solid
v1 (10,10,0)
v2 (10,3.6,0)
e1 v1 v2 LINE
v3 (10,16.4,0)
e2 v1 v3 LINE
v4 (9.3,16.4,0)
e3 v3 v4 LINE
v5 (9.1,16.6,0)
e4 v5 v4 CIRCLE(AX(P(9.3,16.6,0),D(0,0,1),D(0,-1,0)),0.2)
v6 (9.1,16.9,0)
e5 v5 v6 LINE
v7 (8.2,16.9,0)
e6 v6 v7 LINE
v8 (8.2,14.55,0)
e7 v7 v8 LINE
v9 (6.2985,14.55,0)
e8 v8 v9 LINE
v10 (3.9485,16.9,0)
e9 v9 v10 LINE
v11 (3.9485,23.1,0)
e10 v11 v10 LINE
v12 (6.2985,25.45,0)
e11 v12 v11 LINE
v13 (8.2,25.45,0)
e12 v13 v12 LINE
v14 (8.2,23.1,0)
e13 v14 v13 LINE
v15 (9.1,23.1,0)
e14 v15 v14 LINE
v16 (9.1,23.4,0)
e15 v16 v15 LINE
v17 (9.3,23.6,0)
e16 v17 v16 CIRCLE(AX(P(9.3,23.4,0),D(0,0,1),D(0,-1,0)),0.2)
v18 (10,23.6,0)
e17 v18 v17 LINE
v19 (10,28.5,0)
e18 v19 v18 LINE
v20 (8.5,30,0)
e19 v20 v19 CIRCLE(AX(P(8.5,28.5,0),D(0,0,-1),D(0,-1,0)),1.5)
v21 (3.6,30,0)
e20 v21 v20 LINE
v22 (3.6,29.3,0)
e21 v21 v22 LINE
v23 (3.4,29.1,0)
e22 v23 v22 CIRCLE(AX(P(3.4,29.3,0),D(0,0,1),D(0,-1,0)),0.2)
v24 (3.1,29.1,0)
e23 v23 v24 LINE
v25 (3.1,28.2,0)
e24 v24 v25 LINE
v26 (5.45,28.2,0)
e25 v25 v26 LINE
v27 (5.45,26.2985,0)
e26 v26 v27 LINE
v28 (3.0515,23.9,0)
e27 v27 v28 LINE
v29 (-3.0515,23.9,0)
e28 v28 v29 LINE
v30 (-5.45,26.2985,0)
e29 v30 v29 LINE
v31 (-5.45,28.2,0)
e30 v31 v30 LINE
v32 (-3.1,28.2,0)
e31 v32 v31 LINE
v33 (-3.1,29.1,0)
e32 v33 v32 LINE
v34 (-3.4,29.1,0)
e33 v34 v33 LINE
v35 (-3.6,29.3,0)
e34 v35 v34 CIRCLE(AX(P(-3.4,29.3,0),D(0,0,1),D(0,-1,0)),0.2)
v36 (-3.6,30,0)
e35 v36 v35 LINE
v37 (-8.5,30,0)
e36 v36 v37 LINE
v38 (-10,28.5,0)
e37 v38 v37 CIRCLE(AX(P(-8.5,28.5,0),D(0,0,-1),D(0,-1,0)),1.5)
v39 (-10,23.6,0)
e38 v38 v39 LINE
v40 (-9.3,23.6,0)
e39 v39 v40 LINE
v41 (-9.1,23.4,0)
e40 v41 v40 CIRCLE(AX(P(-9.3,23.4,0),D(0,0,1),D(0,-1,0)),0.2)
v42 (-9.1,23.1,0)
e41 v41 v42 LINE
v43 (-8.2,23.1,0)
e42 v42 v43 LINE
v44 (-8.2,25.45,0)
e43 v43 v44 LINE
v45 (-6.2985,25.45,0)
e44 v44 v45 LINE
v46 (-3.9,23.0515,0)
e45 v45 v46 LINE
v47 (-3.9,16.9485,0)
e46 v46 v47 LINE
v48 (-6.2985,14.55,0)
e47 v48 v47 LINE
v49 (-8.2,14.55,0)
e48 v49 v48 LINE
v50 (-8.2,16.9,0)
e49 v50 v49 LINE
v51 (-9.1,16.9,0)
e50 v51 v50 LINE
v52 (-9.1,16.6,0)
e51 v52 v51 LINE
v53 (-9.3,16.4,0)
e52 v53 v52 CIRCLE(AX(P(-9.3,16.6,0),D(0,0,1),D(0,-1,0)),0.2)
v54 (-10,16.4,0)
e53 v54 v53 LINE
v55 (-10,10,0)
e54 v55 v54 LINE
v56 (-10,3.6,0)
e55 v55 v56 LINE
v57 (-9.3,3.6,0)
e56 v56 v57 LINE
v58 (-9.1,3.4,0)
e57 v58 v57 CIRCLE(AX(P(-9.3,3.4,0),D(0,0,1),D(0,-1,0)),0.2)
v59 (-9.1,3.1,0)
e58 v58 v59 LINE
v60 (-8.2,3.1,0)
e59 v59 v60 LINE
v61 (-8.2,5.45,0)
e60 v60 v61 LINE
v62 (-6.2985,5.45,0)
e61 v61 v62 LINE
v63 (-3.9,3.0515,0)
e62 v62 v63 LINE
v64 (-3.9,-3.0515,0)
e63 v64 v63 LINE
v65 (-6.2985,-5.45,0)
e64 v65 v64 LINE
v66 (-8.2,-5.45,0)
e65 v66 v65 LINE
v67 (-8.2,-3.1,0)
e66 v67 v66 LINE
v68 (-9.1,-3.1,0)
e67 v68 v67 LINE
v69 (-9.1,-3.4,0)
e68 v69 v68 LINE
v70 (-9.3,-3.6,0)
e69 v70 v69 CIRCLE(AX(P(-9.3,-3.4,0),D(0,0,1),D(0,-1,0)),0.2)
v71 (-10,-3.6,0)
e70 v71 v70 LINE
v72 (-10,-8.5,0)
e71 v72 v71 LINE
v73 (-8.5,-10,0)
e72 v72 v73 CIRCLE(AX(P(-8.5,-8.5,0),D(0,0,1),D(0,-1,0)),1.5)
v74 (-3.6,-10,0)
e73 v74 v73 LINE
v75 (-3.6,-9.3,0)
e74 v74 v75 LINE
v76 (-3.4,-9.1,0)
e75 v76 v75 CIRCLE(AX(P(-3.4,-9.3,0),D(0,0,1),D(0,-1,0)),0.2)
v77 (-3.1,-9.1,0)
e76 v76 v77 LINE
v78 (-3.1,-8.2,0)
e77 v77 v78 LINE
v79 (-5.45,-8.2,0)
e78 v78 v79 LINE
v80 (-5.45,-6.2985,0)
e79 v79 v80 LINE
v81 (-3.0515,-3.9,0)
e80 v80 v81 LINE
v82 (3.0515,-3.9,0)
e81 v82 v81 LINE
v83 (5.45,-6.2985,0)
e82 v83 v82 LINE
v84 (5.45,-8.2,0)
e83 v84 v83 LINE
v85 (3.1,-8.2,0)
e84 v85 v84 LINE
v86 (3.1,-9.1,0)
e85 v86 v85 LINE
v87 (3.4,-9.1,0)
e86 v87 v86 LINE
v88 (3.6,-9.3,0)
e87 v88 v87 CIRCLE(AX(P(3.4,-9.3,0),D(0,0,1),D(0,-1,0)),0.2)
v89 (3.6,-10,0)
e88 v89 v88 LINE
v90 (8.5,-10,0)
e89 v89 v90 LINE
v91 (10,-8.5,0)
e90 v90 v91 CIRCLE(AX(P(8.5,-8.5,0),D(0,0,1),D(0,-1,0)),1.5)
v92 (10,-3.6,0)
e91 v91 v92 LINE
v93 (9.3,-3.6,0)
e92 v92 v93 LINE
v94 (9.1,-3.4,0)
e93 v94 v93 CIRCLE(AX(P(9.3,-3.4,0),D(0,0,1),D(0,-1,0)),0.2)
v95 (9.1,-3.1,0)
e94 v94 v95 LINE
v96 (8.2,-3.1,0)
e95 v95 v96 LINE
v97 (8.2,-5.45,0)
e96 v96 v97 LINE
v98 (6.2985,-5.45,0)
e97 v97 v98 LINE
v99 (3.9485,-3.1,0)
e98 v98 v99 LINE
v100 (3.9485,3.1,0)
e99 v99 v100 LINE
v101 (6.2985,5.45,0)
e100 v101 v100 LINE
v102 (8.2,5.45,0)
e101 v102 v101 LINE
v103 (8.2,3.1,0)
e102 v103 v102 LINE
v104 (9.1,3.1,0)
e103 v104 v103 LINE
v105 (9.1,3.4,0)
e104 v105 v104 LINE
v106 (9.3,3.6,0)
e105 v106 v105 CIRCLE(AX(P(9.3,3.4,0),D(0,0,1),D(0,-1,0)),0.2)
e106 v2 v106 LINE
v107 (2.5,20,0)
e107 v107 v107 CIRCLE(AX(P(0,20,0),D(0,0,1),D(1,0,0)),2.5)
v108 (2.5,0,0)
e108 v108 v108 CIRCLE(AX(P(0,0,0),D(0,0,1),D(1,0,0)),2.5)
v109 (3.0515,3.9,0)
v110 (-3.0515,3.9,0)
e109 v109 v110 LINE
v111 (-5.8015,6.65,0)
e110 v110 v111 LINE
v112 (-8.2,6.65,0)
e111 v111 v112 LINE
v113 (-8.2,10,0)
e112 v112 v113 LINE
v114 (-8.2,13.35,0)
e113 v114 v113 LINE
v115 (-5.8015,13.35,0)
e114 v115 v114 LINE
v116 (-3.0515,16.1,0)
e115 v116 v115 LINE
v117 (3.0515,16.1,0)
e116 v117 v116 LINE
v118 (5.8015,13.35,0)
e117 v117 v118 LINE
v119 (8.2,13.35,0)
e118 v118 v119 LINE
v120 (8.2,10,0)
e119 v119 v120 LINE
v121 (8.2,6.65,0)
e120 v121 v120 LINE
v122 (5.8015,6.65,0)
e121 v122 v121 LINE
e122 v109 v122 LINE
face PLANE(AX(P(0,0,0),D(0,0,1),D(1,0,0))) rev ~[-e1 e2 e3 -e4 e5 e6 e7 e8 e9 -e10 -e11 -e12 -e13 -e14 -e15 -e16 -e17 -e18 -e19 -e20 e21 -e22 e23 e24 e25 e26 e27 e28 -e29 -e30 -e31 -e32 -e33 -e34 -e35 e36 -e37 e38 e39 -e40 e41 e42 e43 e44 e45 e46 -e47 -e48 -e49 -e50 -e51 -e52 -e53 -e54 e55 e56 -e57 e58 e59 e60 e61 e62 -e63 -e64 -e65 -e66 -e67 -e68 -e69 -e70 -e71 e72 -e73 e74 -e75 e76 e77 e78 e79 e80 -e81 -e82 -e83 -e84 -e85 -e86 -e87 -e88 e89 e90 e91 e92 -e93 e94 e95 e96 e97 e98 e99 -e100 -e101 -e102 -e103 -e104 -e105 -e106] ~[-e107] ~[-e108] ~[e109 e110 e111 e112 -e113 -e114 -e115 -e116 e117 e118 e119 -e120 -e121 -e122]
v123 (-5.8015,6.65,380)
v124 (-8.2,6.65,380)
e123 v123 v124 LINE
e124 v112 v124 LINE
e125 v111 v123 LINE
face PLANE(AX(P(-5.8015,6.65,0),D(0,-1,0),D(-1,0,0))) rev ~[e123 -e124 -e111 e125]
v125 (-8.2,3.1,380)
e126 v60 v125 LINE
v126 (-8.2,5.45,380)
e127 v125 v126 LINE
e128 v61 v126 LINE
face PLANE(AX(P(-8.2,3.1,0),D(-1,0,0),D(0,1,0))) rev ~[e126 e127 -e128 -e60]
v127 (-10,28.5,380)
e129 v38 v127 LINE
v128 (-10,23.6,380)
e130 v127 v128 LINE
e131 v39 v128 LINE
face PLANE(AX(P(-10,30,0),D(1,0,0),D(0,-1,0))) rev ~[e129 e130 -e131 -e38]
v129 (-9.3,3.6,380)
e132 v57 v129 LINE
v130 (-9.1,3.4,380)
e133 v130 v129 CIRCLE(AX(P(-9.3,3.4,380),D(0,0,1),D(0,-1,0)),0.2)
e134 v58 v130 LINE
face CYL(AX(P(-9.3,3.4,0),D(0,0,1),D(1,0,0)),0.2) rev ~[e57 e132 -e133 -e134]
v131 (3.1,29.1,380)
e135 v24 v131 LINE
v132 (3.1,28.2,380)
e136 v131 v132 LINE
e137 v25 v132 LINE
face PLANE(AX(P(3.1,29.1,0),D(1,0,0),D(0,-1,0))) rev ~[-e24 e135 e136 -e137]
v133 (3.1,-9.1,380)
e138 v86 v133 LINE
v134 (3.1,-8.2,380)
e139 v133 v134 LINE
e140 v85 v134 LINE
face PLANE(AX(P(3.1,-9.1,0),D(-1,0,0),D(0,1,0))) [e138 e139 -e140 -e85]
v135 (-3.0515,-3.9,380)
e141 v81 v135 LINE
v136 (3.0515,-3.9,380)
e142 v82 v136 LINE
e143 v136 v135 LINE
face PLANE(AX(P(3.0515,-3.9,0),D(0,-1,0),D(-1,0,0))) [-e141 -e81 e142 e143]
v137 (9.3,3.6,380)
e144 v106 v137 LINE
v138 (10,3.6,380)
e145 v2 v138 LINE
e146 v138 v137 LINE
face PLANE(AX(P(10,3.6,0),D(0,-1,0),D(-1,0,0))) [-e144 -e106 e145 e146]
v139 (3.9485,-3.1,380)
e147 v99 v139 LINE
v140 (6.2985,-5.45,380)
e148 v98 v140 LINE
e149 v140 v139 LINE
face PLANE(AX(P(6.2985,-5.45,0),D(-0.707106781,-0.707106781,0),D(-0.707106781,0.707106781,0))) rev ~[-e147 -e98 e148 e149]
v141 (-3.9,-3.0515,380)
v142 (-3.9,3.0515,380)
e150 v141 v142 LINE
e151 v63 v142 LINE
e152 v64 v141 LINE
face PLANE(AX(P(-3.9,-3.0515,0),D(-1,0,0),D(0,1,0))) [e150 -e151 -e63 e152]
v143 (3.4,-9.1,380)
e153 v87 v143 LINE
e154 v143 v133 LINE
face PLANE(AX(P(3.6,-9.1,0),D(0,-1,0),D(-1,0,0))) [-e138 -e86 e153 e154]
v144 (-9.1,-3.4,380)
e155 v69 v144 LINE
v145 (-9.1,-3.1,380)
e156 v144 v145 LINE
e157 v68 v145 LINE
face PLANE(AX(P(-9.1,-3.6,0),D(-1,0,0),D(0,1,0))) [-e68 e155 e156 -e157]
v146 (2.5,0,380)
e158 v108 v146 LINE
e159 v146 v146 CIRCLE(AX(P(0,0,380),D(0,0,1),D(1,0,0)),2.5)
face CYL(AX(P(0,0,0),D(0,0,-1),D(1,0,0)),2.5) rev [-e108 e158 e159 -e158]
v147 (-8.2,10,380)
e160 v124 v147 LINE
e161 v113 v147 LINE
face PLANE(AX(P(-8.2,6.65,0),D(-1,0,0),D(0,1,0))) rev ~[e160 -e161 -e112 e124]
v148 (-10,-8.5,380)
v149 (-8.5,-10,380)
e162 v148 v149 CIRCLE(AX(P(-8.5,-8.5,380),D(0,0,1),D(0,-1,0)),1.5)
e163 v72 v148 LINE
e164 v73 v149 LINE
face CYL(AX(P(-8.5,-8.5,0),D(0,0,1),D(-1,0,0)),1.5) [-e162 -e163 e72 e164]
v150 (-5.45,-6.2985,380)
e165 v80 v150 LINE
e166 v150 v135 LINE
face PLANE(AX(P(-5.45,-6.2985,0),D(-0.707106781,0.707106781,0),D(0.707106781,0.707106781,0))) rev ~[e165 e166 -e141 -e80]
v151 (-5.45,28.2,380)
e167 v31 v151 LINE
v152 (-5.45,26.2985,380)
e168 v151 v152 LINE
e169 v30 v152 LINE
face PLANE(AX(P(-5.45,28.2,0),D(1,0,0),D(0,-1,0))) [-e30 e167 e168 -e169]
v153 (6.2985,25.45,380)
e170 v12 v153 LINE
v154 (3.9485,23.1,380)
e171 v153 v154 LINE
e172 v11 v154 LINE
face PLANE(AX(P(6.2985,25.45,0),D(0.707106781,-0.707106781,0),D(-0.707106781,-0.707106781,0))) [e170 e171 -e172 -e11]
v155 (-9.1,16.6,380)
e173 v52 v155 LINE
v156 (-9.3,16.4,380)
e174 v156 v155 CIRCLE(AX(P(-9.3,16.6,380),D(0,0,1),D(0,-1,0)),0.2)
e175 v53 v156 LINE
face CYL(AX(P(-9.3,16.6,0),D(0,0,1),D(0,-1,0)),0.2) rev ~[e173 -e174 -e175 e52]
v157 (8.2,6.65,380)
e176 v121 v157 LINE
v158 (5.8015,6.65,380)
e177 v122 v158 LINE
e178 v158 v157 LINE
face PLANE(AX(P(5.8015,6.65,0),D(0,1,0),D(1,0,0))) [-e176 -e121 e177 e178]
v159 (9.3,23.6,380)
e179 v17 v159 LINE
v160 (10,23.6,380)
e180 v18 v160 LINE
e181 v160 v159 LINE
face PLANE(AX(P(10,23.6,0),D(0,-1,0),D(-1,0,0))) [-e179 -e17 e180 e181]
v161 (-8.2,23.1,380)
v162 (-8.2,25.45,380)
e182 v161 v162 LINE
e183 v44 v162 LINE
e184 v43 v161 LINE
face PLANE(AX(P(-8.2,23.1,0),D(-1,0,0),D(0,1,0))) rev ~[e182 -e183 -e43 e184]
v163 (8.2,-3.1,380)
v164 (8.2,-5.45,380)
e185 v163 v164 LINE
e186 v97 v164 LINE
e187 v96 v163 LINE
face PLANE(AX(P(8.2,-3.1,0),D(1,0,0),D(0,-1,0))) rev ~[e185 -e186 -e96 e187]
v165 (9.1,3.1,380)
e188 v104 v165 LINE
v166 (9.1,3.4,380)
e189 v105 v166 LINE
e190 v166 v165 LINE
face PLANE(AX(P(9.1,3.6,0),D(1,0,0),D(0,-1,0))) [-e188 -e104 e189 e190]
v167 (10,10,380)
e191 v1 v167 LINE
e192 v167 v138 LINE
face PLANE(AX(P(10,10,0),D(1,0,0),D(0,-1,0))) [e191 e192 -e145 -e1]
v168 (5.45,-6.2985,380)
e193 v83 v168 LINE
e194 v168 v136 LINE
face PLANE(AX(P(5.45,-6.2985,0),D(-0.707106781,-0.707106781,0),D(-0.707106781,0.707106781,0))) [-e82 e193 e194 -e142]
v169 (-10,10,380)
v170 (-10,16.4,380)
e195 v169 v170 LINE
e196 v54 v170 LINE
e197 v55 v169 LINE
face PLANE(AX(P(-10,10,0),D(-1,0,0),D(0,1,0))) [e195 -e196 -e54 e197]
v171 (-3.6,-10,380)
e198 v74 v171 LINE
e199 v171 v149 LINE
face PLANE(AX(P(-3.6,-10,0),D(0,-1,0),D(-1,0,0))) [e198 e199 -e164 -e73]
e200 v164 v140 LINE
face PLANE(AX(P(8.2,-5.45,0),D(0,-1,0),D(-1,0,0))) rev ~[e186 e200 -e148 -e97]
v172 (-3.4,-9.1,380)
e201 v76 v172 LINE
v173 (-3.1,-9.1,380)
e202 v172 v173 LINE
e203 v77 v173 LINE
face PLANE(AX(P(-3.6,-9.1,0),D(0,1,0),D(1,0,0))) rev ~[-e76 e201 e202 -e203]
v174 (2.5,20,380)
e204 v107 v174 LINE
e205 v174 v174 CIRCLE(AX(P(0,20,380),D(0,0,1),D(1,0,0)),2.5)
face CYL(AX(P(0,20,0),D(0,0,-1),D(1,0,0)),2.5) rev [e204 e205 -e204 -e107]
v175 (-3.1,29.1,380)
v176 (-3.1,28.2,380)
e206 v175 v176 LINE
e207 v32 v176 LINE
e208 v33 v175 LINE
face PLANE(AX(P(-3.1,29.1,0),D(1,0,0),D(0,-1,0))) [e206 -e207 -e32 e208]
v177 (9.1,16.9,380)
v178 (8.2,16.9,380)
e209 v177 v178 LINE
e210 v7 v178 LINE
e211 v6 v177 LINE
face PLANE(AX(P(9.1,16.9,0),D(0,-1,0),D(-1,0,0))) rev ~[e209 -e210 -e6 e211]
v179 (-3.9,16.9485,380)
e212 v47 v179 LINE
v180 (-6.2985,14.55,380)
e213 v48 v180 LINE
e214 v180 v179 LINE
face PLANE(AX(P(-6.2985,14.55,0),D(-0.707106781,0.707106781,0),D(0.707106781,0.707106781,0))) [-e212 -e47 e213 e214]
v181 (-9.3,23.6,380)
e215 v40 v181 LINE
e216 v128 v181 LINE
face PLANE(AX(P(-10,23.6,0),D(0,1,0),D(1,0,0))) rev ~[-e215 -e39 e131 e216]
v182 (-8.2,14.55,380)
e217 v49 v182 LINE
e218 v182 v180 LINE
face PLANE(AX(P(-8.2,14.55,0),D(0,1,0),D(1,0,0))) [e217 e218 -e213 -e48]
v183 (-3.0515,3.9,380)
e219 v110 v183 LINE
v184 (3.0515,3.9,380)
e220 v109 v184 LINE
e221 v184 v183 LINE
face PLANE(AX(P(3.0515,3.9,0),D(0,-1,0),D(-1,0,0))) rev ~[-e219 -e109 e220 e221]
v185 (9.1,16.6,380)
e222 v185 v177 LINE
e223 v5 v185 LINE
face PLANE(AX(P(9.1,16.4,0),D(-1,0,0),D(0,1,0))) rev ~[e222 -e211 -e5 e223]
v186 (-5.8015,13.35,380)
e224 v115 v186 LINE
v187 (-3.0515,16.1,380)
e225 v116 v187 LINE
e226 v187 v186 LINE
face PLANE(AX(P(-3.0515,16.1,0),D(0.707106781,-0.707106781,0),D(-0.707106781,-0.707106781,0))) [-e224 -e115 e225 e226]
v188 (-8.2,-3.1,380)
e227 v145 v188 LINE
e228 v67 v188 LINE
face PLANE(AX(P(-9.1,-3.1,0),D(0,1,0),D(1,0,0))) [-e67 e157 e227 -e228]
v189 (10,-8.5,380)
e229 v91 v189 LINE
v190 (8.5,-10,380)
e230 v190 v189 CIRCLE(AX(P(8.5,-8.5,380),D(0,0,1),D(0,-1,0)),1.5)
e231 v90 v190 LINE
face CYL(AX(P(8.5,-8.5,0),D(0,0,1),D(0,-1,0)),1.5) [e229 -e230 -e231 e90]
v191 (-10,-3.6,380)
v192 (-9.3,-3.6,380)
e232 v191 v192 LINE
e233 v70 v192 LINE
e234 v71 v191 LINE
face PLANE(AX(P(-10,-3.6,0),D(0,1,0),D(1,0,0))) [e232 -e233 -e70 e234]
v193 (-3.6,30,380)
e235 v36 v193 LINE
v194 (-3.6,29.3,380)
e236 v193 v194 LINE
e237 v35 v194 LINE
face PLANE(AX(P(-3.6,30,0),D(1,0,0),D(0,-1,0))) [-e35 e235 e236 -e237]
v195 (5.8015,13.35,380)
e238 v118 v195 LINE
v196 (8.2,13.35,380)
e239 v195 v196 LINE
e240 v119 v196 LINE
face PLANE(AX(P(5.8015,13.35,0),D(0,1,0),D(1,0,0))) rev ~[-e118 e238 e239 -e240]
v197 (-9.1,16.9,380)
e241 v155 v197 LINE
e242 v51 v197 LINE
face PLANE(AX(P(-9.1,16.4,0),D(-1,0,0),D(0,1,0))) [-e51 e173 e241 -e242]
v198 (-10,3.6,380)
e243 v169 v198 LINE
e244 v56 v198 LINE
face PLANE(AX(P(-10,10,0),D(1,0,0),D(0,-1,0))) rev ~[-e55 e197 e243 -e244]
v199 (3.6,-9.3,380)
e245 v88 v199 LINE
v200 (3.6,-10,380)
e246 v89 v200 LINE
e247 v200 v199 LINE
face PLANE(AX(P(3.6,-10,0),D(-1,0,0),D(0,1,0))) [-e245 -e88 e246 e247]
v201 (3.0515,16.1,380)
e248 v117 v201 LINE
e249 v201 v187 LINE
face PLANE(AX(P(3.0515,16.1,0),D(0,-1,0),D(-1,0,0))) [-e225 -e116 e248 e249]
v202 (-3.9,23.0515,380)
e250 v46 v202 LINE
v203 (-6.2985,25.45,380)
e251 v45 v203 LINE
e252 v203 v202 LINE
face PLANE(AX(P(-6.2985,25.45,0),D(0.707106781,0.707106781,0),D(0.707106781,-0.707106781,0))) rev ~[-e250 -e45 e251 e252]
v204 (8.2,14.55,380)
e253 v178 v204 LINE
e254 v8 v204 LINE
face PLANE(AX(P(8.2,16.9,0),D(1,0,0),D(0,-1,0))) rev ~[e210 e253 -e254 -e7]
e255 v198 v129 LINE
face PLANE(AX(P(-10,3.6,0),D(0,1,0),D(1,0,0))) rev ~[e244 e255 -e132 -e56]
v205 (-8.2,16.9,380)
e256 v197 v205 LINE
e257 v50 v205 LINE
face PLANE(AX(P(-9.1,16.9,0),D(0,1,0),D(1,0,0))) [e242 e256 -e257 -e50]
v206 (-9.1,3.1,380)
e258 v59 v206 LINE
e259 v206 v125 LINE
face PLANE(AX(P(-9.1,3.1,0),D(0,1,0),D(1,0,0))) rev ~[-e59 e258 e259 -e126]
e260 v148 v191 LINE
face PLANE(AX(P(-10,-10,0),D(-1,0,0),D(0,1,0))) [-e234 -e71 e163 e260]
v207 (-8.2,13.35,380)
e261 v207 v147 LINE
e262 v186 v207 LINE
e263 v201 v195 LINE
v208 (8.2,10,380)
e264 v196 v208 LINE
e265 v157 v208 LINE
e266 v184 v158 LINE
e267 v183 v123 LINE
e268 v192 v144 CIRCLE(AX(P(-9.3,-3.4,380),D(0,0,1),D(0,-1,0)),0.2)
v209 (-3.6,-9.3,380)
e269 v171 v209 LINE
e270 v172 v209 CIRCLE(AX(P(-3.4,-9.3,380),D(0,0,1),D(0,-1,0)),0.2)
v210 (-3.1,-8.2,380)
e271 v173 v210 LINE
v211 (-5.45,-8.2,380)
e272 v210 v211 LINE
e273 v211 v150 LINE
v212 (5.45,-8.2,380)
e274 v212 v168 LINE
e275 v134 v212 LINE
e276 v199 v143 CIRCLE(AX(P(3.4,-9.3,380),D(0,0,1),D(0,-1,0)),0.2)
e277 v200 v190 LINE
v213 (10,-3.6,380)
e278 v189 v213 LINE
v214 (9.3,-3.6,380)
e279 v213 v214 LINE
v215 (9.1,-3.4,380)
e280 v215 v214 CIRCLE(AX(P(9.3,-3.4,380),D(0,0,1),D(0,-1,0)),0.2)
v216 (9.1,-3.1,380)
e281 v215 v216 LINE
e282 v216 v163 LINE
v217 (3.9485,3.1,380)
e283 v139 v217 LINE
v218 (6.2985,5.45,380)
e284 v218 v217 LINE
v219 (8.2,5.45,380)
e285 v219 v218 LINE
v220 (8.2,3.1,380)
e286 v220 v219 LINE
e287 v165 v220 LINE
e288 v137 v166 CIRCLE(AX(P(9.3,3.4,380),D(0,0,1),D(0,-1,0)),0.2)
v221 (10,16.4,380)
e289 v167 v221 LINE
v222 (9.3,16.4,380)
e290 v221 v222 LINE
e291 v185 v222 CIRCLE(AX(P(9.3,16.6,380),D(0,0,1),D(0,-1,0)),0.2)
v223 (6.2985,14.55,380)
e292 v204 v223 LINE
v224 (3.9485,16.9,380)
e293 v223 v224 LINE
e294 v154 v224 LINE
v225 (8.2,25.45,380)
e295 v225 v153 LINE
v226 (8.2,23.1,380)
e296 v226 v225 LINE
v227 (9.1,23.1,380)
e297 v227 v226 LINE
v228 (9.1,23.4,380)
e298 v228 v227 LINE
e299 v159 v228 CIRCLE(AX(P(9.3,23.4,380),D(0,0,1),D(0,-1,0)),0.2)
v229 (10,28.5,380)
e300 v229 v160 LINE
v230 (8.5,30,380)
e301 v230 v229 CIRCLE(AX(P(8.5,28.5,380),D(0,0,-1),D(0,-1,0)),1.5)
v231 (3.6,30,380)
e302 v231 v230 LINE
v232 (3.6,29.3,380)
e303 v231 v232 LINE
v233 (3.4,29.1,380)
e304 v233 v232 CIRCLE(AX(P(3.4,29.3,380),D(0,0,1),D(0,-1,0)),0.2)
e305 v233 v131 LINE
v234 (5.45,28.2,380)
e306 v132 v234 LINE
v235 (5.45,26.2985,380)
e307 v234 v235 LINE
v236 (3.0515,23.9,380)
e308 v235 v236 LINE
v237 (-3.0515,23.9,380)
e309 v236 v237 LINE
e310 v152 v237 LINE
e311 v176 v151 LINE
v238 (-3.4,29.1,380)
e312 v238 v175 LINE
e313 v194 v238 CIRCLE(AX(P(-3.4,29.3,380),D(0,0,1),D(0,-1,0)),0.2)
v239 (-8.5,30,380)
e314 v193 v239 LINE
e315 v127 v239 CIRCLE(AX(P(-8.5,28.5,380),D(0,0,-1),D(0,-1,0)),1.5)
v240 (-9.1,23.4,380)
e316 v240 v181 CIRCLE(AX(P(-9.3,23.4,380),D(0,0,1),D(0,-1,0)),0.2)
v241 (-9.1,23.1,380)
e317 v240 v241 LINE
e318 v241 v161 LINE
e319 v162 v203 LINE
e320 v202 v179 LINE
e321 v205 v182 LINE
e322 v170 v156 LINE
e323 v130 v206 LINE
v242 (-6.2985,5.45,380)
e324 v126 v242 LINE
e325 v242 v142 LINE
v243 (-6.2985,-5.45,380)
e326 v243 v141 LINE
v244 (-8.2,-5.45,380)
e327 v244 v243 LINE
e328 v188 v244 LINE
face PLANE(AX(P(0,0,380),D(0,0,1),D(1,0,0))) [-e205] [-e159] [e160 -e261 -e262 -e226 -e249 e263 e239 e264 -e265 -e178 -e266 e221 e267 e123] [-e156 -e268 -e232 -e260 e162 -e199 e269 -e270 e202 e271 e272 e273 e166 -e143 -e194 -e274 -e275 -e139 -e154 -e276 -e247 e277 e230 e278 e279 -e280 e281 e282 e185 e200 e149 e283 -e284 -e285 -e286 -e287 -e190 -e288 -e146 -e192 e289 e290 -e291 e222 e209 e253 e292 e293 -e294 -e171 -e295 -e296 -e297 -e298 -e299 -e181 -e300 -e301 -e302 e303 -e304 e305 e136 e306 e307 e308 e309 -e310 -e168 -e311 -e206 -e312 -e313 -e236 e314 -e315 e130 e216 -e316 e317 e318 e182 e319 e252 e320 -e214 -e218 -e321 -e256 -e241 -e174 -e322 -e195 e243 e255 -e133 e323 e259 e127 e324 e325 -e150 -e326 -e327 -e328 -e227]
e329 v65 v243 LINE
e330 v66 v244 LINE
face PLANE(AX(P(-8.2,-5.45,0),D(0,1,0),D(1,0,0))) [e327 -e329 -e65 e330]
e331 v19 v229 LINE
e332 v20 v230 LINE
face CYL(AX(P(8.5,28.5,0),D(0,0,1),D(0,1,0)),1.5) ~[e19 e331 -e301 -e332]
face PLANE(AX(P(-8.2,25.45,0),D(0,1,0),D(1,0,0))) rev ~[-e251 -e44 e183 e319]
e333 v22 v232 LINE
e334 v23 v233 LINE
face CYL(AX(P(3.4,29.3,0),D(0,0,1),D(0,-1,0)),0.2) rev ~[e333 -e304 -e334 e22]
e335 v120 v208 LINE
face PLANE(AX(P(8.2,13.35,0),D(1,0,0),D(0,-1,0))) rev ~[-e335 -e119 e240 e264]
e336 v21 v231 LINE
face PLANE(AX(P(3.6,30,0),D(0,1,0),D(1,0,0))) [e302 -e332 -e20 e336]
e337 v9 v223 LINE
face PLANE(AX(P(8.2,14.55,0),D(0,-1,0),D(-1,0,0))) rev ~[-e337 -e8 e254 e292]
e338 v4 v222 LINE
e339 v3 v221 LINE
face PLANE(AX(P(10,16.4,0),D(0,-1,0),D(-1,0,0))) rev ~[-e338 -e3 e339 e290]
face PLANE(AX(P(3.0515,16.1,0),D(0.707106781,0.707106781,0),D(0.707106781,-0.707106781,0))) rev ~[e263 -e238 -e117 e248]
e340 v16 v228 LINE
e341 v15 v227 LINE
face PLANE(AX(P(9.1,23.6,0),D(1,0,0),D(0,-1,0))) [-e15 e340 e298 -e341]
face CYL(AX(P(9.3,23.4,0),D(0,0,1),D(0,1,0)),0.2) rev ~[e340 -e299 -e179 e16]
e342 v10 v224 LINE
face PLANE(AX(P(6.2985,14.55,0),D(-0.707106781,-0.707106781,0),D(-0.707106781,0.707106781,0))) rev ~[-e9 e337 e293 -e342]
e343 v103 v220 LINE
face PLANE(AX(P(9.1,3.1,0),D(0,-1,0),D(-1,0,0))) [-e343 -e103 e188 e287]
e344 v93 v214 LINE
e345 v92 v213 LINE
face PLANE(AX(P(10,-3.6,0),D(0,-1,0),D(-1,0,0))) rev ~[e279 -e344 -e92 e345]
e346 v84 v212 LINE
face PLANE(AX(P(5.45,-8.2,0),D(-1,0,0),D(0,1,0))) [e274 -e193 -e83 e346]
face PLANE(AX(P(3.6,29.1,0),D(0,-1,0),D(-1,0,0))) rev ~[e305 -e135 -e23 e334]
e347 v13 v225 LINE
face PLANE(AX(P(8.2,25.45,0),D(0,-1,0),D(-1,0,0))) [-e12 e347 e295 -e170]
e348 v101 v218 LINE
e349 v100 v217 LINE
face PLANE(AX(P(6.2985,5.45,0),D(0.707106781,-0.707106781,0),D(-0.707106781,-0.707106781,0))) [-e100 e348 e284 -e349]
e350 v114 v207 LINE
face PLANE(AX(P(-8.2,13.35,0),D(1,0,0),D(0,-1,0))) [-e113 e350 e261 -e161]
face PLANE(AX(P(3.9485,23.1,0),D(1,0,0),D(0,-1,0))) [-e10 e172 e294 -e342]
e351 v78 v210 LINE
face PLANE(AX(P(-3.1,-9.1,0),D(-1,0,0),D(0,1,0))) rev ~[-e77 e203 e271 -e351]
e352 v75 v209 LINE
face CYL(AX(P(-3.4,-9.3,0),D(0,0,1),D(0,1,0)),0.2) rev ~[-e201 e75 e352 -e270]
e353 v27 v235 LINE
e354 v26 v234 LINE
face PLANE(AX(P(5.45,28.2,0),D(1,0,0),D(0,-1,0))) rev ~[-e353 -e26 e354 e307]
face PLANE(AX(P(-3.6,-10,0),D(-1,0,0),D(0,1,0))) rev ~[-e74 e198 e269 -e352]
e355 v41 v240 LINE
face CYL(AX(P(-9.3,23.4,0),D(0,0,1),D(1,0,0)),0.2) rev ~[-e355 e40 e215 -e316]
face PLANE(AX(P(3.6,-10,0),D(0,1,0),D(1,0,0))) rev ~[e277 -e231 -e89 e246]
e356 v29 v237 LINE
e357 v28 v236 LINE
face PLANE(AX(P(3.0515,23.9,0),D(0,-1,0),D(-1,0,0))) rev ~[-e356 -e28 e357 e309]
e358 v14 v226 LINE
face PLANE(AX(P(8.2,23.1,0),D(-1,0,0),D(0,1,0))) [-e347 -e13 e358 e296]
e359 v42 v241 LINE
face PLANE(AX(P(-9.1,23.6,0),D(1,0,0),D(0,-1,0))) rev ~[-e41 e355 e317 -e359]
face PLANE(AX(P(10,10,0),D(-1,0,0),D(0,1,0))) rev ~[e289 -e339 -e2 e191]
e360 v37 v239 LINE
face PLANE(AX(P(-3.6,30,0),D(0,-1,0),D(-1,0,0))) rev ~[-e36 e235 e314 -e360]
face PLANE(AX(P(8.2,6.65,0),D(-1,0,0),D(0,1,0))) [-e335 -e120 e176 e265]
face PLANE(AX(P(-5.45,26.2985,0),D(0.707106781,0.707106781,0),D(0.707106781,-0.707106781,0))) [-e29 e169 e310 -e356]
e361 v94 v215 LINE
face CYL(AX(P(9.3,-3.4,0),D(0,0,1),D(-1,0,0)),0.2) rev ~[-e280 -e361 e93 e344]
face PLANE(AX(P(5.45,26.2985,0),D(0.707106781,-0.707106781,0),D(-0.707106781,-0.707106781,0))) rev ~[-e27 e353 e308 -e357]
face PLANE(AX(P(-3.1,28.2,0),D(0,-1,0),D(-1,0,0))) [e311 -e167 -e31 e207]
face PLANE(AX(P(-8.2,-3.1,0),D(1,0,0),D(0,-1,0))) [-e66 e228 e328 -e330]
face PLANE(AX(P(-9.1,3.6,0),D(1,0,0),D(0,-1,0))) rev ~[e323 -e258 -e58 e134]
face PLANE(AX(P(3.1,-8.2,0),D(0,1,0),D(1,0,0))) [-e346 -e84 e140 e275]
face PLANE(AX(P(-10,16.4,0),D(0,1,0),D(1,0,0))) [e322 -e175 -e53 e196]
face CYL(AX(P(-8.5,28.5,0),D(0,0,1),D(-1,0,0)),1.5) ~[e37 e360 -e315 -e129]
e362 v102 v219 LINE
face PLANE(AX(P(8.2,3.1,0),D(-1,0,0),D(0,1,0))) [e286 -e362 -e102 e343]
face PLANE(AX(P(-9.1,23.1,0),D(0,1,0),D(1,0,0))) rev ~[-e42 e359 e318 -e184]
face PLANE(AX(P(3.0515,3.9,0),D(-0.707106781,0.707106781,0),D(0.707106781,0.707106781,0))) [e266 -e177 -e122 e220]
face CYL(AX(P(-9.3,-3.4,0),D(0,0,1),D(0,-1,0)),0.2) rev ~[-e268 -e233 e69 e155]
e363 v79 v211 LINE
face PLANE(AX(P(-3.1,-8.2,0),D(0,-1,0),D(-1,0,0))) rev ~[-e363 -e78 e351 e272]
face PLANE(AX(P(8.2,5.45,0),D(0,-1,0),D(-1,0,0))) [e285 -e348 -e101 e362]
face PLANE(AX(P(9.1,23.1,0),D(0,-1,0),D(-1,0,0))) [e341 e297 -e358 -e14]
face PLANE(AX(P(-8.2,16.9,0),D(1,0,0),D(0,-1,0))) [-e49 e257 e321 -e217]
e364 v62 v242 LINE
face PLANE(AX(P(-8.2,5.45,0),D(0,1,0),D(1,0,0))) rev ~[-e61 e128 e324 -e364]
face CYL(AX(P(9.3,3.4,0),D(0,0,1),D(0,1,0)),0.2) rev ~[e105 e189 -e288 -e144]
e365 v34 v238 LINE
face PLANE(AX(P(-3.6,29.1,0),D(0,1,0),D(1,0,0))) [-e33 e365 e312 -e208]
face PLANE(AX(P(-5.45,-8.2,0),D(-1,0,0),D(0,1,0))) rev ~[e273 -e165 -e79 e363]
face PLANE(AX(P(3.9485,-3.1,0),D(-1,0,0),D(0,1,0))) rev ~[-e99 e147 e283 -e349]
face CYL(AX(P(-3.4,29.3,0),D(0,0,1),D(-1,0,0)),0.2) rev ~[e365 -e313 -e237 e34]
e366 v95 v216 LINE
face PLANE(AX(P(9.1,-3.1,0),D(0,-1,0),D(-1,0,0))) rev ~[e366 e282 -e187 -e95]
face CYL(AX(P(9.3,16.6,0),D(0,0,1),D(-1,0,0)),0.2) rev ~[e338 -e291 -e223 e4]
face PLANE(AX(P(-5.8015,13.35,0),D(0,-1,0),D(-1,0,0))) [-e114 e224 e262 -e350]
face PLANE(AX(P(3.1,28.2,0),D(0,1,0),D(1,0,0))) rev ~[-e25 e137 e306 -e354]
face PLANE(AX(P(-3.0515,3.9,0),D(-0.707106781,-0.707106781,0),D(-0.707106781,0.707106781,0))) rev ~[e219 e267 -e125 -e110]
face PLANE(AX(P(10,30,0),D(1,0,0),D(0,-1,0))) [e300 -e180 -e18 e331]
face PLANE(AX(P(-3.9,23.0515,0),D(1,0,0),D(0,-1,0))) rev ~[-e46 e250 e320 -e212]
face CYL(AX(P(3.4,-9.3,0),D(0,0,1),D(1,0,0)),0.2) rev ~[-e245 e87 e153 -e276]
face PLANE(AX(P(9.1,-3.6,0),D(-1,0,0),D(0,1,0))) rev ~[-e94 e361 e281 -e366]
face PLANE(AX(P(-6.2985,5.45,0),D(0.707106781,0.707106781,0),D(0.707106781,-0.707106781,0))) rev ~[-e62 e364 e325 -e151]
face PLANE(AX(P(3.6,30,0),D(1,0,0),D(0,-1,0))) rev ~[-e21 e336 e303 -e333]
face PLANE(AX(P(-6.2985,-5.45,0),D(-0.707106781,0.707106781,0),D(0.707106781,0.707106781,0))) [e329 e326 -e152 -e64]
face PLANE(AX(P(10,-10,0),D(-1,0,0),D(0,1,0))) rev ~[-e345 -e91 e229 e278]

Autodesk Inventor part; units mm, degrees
ref_plane "YZ Plane" through (0, 0, 0) normal (1, 0, 0) x (0, 1, 0)
ref_plane "XZ Plane" through (0, 0, 0) normal (0, 1, 0) x (-1, 0, 0)
ref_plane "XY Plane" through (0, 0, 0) normal (0, 0, 1) x (1, 0, 0)
sketch "Sketch1" plane through (0, 0, 0) normal (0, 0, 1) x (1, 0, 0)
  line L0 (-10, -10) -> (10, -10) construction
  line L1 (10, -10) -> (10, 10) construction
  line L2 (10, 10) -> (-10, 10) construction
  line L3 (-10, 10) -> (-10, -10) construction
  line L4 (-10, -10) -> (10, 10) construction
  line L5 (10, -10) -> (-10, 10) construction
  line L6 (-10, 0) -> (10, 0) construction
  line L7 (-3.6, -10) -> (-10, -10)
  line L8 (-10, -10) -> (-10, -3.6)
  line L9 (3.6, -10) -> (10, -10)
  line L10 (10, -10) -> (10, -3.6)
  line L11 (-3.6, -10) -> (-3.6, -9.1)
  line L12 (3.6, -10) -> (3.6, -9.1)
  line L13 (-3.6, -9.1) -> (-3.1, -9.1)
  line L14 (-3.1, -9.1) -> (-3.1, -8.2)
  line L15 (3.6, -9.1) -> (3.1, -9.1)
  line L16 (3.1, -9.1) -> (3.1, -8.2)
  line L17 (-3.1, -8.2) -> (-5.45, -8.2)
  line L18 (-5.45, -8.2) -> (-5.45, -6.2985)
  line L19 (3.1, -8.2) -> (5.45, -8.2)
  line L20 (5.45, -8.2) -> (5.45, -6.2985)
  line L21 (-5.45, -6.2985) -> (-3.0515, -3.9)
  line L22 (-10, -3.6) -> (-9.1, -3.6)
  line L23 (-9.1, -3.6) -> (-9.1, -3.1)
  line L24 (-9.1, -3.1) -> (-8.2, -3.1)
  line L25 (-8.2, -3.1) -> (-8.2, -5.45)
  line L26 (-8.2, -5.45) -> (-6.2985, -5.45)
  line L27 (-6.2985, -5.45) -> (-3.9, -3.0515)
  circle A0 centre (0, 0) radius 2.5
  line L28 (5.45, -6.2985) -> (3.0515, -3.9)
  line L29 (3.0515, -3.9) -> (-3.0515, -3.9)
  line L30 (10, -3.6) -> (9.1, -3.6)
  line L31 (9.1, -3.6) -> (9.1, -3.1)
  line L32 (9.1, -3.1) -> (8.2, -3.1)
  line L33 (8.2, -3.1) -> (8.2, -5.45)
  line L34 (8.2, -5.45) -> (6.2985, -5.45)
  line L35 (6.2985, -5.45) -> (3.9485, -3.1)
  line L36 (-10, 10) -> (10, 10) construction
  line L37 (3.0515, 3.9) -> (-3.0515, 3.9)
  line L38 (-6.2985, 5.45) -> (-3.9, 3.0515)
  line L39 (-10, 10) -> (-10, 3.6)
  line L40 (-8.2, 3.1) -> (-8.2, 5.45)
  line L41 (-9.1, 3.1) -> (-8.2, 3.1)
  line L42 (-9.1, 3.6) -> (-9.1, 3.1)
  line L43 (-10, 3.6) -> (-9.1, 3.6)
  line L44 (-8.2, 5.45) -> (-6.2985, 5.45)
  line L45 (10, 10) -> (10, 3.6)
  line L46 (6.2985, 5.45) -> (3.9485, 3.1)
  line L47 (8.2, 5.45) -> (6.2985, 5.45)
  line L48 (8.2, 3.1) -> (8.2, 5.45)
  line L49 (9.1, 3.1) -> (8.2, 3.1)
  line L50 (9.1, 3.6) -> (9.1, 3.1)
  line L51 (10, 3.6) -> (9.1, 3.6)
  line L52 (-3.9, -3.0515) -> (-3.9, 3.0515)
  line L53 (3.9485, -3.1) -> (3.9485, 3.1)
  line L54 (-3.0515, 3.9) -> (-5.8015, 6.65)
  line L55 (3.0515, 3.9) -> (5.8015, 6.65)
  line L56 (-5.8015, 6.65) -> (-8.2, 6.65)
  line L57 (5.8015, 6.65) -> (8.2, 6.65)
  line L58 (-8.2, 6.65) -> (-8.2, 10)
  line L59 (8.2, 6.65) -> (8.2, 10)
  line L60 (-10, 30) -> (10, 30) construction
  line L61 (10, 30) -> (10, 10) construction
  line L62 (-10, 10) -> (-10, 30) construction
  line L63 (-10, 20) -> (10, 20) construction
  circle A1 centre (0, 20) radius 2.5
  line L64 (3.0515, 23.9) -> (-3.0515, 23.9)
  line L65 (-3.6, 30) -> (-3.6, 29.1)
  line L66 (-3.6, 29.1) -> (-3.1, 29.1)
  line L67 (-3.1, 29.1) -> (-3.1, 28.2)
  line L68 (-5.45, 26.2985) -> (-3.0515, 23.9)
  line L69 (-3.1, 28.2) -> (-5.45, 28.2)
  line L70 (-5.45, 28.2) -> (-5.45, 26.2985)
  line L71 (-6.2985, 25.45) -> (-3.9, 23.0515)
  line L72 (-3.6, 30) -> (-10, 30)
  line L73 (-10, 30) -> (-10, 23.6)
  line L74 (-8.2, 23.1) -> (-8.2, 25.45)
  line L75 (-9.1, 23.1) -> (-8.2, 23.1)
  line L76 (-9.1, 23.6) -> (-9.1, 23.1)
  line L77 (-10, 23.6) -> (-9.1, 23.6)
  line L78 (-8.2, 25.45) -> (-6.2985, 25.45)
  line L79 (3.6, 30) -> (10, 30)
  line L80 (10, 30) -> (10, 23.6)
  line L81 (3.6, 30) -> (3.6, 29.1)
  line L82 (3.6, 29.1) -> (3.1, 29.1)
  line L83 (3.1, 29.1) -> (3.1, 28.2)
  line L84 (3.1, 28.2) -> (5.45, 28.2)
  line L85 (5.45, 26.2985) -> (3.0515, 23.9)
  line L86 (5.45, 28.2) -> (5.45, 26.2985)
  line L87 (6.2985, 25.45) -> (3.9485, 23.1)
  line L88 (8.2, 25.45) -> (6.2985, 25.45)
  line L89 (8.2, 23.1) -> (8.2, 25.45)
  line L90 (9.1, 23.1) -> (8.2, 23.1)
  line L91 (9.1, 23.6) -> (9.1, 23.1)
  line L92 (10, 23.6) -> (9.1, 23.6)
  line L93 (3.0515, 16.1) -> (-3.0515, 16.1)
  line L94 (-6.2985, 14.55) -> (-3.9, 16.9485)
  line L95 (-8.2, 16.9) -> (-8.2, 14.55)
  line L96 (-8.2, 14.55) -> (-6.2985, 14.55)
  line L97 (-10, 10) -> (-10, 16.4)
  line L98 (-9.1, 16.9) -> (-8.2, 16.9)
  line L99 (-9.1, 16.4) -> (-9.1, 16.9)
  line L100 (-10, 16.4) -> (-9.1, 16.4)
  line L101 (6.2985, 14.55) -> (3.9485, 16.9)
  line L102 (8.2, 14.55) -> (6.2985, 14.55)
  line L103 (8.2, 16.9) -> (8.2, 14.55)
  line L104 (9.1, 16.9) -> (8.2, 16.9)
  line L105 (9.1, 16.4) -> (9.1, 16.9)
  line L106 (10, 10) -> (10, 16.4)
  line L107 (10, 16.4) -> (9.1, 16.4)
  line L108 (-3.9, 23.0515) -> (-3.9, 16.9485)
  line L109 (3.9485, 23.1) -> (3.9485, 16.9)
  line L110 (-3.0515, 16.1) -> (-5.8015, 13.35)
  line L111 (3.0515, 16.1) -> (5.8015, 13.35)
  line L112 (-5.8015, 13.35) -> (-8.2, 13.35)
  line L113 (5.8015, 13.35) -> (8.2, 13.35)
  line L114 (-8.2, 13.35) -> (-8.2, 10)
  line L115 (8.2, 13.35) -> (8.2, 10)
  point P0 (0, 0)
  point P1 (0, 0)
  point P2 (0, 20)
  point P3 (0, 20)
  dimension "len" = 20
  dimension "d1" = 20
  dimension "d2" = 7.2
  dimension "d3" = 0.9
  dimension "d4" = 6.2
  dimension "d5" = 1.8
  dimension "d6" = 10.9
  dimension "d8" = 5
  dimension "d9" = 6.1
  dimension "d13" = 1.2
  dimension "d19" = 1.2
extrude "380mm" add sketch "Sketch1" along normal blind 380
fillet "Fillet 0.2mm" radius 0.2 12 edges at (-3.6, -9.1, 190) (3.6, -9.1, 190) (9.1, -3.6, 190) (-9.1, -3.6, 190) (-9.1, 3.6, 190) (9.1, 3.6, 190) (9.1, 16.4, 190) (9.1, 23.6, 190) (-9.1, 23.6, 190) (-9.1, 16.4, 190) (-3.6, 29.1, 190) (3.6, 29.1, 190)
fillet "Fillet 1.5mm" radius 1.5 4 edges at (-10, -10, 190) (10, -10, 190) (10, 30, 190) (-10, 30, 190)
equation "\"d1\" = len"
properties part number "_3DPrint"
